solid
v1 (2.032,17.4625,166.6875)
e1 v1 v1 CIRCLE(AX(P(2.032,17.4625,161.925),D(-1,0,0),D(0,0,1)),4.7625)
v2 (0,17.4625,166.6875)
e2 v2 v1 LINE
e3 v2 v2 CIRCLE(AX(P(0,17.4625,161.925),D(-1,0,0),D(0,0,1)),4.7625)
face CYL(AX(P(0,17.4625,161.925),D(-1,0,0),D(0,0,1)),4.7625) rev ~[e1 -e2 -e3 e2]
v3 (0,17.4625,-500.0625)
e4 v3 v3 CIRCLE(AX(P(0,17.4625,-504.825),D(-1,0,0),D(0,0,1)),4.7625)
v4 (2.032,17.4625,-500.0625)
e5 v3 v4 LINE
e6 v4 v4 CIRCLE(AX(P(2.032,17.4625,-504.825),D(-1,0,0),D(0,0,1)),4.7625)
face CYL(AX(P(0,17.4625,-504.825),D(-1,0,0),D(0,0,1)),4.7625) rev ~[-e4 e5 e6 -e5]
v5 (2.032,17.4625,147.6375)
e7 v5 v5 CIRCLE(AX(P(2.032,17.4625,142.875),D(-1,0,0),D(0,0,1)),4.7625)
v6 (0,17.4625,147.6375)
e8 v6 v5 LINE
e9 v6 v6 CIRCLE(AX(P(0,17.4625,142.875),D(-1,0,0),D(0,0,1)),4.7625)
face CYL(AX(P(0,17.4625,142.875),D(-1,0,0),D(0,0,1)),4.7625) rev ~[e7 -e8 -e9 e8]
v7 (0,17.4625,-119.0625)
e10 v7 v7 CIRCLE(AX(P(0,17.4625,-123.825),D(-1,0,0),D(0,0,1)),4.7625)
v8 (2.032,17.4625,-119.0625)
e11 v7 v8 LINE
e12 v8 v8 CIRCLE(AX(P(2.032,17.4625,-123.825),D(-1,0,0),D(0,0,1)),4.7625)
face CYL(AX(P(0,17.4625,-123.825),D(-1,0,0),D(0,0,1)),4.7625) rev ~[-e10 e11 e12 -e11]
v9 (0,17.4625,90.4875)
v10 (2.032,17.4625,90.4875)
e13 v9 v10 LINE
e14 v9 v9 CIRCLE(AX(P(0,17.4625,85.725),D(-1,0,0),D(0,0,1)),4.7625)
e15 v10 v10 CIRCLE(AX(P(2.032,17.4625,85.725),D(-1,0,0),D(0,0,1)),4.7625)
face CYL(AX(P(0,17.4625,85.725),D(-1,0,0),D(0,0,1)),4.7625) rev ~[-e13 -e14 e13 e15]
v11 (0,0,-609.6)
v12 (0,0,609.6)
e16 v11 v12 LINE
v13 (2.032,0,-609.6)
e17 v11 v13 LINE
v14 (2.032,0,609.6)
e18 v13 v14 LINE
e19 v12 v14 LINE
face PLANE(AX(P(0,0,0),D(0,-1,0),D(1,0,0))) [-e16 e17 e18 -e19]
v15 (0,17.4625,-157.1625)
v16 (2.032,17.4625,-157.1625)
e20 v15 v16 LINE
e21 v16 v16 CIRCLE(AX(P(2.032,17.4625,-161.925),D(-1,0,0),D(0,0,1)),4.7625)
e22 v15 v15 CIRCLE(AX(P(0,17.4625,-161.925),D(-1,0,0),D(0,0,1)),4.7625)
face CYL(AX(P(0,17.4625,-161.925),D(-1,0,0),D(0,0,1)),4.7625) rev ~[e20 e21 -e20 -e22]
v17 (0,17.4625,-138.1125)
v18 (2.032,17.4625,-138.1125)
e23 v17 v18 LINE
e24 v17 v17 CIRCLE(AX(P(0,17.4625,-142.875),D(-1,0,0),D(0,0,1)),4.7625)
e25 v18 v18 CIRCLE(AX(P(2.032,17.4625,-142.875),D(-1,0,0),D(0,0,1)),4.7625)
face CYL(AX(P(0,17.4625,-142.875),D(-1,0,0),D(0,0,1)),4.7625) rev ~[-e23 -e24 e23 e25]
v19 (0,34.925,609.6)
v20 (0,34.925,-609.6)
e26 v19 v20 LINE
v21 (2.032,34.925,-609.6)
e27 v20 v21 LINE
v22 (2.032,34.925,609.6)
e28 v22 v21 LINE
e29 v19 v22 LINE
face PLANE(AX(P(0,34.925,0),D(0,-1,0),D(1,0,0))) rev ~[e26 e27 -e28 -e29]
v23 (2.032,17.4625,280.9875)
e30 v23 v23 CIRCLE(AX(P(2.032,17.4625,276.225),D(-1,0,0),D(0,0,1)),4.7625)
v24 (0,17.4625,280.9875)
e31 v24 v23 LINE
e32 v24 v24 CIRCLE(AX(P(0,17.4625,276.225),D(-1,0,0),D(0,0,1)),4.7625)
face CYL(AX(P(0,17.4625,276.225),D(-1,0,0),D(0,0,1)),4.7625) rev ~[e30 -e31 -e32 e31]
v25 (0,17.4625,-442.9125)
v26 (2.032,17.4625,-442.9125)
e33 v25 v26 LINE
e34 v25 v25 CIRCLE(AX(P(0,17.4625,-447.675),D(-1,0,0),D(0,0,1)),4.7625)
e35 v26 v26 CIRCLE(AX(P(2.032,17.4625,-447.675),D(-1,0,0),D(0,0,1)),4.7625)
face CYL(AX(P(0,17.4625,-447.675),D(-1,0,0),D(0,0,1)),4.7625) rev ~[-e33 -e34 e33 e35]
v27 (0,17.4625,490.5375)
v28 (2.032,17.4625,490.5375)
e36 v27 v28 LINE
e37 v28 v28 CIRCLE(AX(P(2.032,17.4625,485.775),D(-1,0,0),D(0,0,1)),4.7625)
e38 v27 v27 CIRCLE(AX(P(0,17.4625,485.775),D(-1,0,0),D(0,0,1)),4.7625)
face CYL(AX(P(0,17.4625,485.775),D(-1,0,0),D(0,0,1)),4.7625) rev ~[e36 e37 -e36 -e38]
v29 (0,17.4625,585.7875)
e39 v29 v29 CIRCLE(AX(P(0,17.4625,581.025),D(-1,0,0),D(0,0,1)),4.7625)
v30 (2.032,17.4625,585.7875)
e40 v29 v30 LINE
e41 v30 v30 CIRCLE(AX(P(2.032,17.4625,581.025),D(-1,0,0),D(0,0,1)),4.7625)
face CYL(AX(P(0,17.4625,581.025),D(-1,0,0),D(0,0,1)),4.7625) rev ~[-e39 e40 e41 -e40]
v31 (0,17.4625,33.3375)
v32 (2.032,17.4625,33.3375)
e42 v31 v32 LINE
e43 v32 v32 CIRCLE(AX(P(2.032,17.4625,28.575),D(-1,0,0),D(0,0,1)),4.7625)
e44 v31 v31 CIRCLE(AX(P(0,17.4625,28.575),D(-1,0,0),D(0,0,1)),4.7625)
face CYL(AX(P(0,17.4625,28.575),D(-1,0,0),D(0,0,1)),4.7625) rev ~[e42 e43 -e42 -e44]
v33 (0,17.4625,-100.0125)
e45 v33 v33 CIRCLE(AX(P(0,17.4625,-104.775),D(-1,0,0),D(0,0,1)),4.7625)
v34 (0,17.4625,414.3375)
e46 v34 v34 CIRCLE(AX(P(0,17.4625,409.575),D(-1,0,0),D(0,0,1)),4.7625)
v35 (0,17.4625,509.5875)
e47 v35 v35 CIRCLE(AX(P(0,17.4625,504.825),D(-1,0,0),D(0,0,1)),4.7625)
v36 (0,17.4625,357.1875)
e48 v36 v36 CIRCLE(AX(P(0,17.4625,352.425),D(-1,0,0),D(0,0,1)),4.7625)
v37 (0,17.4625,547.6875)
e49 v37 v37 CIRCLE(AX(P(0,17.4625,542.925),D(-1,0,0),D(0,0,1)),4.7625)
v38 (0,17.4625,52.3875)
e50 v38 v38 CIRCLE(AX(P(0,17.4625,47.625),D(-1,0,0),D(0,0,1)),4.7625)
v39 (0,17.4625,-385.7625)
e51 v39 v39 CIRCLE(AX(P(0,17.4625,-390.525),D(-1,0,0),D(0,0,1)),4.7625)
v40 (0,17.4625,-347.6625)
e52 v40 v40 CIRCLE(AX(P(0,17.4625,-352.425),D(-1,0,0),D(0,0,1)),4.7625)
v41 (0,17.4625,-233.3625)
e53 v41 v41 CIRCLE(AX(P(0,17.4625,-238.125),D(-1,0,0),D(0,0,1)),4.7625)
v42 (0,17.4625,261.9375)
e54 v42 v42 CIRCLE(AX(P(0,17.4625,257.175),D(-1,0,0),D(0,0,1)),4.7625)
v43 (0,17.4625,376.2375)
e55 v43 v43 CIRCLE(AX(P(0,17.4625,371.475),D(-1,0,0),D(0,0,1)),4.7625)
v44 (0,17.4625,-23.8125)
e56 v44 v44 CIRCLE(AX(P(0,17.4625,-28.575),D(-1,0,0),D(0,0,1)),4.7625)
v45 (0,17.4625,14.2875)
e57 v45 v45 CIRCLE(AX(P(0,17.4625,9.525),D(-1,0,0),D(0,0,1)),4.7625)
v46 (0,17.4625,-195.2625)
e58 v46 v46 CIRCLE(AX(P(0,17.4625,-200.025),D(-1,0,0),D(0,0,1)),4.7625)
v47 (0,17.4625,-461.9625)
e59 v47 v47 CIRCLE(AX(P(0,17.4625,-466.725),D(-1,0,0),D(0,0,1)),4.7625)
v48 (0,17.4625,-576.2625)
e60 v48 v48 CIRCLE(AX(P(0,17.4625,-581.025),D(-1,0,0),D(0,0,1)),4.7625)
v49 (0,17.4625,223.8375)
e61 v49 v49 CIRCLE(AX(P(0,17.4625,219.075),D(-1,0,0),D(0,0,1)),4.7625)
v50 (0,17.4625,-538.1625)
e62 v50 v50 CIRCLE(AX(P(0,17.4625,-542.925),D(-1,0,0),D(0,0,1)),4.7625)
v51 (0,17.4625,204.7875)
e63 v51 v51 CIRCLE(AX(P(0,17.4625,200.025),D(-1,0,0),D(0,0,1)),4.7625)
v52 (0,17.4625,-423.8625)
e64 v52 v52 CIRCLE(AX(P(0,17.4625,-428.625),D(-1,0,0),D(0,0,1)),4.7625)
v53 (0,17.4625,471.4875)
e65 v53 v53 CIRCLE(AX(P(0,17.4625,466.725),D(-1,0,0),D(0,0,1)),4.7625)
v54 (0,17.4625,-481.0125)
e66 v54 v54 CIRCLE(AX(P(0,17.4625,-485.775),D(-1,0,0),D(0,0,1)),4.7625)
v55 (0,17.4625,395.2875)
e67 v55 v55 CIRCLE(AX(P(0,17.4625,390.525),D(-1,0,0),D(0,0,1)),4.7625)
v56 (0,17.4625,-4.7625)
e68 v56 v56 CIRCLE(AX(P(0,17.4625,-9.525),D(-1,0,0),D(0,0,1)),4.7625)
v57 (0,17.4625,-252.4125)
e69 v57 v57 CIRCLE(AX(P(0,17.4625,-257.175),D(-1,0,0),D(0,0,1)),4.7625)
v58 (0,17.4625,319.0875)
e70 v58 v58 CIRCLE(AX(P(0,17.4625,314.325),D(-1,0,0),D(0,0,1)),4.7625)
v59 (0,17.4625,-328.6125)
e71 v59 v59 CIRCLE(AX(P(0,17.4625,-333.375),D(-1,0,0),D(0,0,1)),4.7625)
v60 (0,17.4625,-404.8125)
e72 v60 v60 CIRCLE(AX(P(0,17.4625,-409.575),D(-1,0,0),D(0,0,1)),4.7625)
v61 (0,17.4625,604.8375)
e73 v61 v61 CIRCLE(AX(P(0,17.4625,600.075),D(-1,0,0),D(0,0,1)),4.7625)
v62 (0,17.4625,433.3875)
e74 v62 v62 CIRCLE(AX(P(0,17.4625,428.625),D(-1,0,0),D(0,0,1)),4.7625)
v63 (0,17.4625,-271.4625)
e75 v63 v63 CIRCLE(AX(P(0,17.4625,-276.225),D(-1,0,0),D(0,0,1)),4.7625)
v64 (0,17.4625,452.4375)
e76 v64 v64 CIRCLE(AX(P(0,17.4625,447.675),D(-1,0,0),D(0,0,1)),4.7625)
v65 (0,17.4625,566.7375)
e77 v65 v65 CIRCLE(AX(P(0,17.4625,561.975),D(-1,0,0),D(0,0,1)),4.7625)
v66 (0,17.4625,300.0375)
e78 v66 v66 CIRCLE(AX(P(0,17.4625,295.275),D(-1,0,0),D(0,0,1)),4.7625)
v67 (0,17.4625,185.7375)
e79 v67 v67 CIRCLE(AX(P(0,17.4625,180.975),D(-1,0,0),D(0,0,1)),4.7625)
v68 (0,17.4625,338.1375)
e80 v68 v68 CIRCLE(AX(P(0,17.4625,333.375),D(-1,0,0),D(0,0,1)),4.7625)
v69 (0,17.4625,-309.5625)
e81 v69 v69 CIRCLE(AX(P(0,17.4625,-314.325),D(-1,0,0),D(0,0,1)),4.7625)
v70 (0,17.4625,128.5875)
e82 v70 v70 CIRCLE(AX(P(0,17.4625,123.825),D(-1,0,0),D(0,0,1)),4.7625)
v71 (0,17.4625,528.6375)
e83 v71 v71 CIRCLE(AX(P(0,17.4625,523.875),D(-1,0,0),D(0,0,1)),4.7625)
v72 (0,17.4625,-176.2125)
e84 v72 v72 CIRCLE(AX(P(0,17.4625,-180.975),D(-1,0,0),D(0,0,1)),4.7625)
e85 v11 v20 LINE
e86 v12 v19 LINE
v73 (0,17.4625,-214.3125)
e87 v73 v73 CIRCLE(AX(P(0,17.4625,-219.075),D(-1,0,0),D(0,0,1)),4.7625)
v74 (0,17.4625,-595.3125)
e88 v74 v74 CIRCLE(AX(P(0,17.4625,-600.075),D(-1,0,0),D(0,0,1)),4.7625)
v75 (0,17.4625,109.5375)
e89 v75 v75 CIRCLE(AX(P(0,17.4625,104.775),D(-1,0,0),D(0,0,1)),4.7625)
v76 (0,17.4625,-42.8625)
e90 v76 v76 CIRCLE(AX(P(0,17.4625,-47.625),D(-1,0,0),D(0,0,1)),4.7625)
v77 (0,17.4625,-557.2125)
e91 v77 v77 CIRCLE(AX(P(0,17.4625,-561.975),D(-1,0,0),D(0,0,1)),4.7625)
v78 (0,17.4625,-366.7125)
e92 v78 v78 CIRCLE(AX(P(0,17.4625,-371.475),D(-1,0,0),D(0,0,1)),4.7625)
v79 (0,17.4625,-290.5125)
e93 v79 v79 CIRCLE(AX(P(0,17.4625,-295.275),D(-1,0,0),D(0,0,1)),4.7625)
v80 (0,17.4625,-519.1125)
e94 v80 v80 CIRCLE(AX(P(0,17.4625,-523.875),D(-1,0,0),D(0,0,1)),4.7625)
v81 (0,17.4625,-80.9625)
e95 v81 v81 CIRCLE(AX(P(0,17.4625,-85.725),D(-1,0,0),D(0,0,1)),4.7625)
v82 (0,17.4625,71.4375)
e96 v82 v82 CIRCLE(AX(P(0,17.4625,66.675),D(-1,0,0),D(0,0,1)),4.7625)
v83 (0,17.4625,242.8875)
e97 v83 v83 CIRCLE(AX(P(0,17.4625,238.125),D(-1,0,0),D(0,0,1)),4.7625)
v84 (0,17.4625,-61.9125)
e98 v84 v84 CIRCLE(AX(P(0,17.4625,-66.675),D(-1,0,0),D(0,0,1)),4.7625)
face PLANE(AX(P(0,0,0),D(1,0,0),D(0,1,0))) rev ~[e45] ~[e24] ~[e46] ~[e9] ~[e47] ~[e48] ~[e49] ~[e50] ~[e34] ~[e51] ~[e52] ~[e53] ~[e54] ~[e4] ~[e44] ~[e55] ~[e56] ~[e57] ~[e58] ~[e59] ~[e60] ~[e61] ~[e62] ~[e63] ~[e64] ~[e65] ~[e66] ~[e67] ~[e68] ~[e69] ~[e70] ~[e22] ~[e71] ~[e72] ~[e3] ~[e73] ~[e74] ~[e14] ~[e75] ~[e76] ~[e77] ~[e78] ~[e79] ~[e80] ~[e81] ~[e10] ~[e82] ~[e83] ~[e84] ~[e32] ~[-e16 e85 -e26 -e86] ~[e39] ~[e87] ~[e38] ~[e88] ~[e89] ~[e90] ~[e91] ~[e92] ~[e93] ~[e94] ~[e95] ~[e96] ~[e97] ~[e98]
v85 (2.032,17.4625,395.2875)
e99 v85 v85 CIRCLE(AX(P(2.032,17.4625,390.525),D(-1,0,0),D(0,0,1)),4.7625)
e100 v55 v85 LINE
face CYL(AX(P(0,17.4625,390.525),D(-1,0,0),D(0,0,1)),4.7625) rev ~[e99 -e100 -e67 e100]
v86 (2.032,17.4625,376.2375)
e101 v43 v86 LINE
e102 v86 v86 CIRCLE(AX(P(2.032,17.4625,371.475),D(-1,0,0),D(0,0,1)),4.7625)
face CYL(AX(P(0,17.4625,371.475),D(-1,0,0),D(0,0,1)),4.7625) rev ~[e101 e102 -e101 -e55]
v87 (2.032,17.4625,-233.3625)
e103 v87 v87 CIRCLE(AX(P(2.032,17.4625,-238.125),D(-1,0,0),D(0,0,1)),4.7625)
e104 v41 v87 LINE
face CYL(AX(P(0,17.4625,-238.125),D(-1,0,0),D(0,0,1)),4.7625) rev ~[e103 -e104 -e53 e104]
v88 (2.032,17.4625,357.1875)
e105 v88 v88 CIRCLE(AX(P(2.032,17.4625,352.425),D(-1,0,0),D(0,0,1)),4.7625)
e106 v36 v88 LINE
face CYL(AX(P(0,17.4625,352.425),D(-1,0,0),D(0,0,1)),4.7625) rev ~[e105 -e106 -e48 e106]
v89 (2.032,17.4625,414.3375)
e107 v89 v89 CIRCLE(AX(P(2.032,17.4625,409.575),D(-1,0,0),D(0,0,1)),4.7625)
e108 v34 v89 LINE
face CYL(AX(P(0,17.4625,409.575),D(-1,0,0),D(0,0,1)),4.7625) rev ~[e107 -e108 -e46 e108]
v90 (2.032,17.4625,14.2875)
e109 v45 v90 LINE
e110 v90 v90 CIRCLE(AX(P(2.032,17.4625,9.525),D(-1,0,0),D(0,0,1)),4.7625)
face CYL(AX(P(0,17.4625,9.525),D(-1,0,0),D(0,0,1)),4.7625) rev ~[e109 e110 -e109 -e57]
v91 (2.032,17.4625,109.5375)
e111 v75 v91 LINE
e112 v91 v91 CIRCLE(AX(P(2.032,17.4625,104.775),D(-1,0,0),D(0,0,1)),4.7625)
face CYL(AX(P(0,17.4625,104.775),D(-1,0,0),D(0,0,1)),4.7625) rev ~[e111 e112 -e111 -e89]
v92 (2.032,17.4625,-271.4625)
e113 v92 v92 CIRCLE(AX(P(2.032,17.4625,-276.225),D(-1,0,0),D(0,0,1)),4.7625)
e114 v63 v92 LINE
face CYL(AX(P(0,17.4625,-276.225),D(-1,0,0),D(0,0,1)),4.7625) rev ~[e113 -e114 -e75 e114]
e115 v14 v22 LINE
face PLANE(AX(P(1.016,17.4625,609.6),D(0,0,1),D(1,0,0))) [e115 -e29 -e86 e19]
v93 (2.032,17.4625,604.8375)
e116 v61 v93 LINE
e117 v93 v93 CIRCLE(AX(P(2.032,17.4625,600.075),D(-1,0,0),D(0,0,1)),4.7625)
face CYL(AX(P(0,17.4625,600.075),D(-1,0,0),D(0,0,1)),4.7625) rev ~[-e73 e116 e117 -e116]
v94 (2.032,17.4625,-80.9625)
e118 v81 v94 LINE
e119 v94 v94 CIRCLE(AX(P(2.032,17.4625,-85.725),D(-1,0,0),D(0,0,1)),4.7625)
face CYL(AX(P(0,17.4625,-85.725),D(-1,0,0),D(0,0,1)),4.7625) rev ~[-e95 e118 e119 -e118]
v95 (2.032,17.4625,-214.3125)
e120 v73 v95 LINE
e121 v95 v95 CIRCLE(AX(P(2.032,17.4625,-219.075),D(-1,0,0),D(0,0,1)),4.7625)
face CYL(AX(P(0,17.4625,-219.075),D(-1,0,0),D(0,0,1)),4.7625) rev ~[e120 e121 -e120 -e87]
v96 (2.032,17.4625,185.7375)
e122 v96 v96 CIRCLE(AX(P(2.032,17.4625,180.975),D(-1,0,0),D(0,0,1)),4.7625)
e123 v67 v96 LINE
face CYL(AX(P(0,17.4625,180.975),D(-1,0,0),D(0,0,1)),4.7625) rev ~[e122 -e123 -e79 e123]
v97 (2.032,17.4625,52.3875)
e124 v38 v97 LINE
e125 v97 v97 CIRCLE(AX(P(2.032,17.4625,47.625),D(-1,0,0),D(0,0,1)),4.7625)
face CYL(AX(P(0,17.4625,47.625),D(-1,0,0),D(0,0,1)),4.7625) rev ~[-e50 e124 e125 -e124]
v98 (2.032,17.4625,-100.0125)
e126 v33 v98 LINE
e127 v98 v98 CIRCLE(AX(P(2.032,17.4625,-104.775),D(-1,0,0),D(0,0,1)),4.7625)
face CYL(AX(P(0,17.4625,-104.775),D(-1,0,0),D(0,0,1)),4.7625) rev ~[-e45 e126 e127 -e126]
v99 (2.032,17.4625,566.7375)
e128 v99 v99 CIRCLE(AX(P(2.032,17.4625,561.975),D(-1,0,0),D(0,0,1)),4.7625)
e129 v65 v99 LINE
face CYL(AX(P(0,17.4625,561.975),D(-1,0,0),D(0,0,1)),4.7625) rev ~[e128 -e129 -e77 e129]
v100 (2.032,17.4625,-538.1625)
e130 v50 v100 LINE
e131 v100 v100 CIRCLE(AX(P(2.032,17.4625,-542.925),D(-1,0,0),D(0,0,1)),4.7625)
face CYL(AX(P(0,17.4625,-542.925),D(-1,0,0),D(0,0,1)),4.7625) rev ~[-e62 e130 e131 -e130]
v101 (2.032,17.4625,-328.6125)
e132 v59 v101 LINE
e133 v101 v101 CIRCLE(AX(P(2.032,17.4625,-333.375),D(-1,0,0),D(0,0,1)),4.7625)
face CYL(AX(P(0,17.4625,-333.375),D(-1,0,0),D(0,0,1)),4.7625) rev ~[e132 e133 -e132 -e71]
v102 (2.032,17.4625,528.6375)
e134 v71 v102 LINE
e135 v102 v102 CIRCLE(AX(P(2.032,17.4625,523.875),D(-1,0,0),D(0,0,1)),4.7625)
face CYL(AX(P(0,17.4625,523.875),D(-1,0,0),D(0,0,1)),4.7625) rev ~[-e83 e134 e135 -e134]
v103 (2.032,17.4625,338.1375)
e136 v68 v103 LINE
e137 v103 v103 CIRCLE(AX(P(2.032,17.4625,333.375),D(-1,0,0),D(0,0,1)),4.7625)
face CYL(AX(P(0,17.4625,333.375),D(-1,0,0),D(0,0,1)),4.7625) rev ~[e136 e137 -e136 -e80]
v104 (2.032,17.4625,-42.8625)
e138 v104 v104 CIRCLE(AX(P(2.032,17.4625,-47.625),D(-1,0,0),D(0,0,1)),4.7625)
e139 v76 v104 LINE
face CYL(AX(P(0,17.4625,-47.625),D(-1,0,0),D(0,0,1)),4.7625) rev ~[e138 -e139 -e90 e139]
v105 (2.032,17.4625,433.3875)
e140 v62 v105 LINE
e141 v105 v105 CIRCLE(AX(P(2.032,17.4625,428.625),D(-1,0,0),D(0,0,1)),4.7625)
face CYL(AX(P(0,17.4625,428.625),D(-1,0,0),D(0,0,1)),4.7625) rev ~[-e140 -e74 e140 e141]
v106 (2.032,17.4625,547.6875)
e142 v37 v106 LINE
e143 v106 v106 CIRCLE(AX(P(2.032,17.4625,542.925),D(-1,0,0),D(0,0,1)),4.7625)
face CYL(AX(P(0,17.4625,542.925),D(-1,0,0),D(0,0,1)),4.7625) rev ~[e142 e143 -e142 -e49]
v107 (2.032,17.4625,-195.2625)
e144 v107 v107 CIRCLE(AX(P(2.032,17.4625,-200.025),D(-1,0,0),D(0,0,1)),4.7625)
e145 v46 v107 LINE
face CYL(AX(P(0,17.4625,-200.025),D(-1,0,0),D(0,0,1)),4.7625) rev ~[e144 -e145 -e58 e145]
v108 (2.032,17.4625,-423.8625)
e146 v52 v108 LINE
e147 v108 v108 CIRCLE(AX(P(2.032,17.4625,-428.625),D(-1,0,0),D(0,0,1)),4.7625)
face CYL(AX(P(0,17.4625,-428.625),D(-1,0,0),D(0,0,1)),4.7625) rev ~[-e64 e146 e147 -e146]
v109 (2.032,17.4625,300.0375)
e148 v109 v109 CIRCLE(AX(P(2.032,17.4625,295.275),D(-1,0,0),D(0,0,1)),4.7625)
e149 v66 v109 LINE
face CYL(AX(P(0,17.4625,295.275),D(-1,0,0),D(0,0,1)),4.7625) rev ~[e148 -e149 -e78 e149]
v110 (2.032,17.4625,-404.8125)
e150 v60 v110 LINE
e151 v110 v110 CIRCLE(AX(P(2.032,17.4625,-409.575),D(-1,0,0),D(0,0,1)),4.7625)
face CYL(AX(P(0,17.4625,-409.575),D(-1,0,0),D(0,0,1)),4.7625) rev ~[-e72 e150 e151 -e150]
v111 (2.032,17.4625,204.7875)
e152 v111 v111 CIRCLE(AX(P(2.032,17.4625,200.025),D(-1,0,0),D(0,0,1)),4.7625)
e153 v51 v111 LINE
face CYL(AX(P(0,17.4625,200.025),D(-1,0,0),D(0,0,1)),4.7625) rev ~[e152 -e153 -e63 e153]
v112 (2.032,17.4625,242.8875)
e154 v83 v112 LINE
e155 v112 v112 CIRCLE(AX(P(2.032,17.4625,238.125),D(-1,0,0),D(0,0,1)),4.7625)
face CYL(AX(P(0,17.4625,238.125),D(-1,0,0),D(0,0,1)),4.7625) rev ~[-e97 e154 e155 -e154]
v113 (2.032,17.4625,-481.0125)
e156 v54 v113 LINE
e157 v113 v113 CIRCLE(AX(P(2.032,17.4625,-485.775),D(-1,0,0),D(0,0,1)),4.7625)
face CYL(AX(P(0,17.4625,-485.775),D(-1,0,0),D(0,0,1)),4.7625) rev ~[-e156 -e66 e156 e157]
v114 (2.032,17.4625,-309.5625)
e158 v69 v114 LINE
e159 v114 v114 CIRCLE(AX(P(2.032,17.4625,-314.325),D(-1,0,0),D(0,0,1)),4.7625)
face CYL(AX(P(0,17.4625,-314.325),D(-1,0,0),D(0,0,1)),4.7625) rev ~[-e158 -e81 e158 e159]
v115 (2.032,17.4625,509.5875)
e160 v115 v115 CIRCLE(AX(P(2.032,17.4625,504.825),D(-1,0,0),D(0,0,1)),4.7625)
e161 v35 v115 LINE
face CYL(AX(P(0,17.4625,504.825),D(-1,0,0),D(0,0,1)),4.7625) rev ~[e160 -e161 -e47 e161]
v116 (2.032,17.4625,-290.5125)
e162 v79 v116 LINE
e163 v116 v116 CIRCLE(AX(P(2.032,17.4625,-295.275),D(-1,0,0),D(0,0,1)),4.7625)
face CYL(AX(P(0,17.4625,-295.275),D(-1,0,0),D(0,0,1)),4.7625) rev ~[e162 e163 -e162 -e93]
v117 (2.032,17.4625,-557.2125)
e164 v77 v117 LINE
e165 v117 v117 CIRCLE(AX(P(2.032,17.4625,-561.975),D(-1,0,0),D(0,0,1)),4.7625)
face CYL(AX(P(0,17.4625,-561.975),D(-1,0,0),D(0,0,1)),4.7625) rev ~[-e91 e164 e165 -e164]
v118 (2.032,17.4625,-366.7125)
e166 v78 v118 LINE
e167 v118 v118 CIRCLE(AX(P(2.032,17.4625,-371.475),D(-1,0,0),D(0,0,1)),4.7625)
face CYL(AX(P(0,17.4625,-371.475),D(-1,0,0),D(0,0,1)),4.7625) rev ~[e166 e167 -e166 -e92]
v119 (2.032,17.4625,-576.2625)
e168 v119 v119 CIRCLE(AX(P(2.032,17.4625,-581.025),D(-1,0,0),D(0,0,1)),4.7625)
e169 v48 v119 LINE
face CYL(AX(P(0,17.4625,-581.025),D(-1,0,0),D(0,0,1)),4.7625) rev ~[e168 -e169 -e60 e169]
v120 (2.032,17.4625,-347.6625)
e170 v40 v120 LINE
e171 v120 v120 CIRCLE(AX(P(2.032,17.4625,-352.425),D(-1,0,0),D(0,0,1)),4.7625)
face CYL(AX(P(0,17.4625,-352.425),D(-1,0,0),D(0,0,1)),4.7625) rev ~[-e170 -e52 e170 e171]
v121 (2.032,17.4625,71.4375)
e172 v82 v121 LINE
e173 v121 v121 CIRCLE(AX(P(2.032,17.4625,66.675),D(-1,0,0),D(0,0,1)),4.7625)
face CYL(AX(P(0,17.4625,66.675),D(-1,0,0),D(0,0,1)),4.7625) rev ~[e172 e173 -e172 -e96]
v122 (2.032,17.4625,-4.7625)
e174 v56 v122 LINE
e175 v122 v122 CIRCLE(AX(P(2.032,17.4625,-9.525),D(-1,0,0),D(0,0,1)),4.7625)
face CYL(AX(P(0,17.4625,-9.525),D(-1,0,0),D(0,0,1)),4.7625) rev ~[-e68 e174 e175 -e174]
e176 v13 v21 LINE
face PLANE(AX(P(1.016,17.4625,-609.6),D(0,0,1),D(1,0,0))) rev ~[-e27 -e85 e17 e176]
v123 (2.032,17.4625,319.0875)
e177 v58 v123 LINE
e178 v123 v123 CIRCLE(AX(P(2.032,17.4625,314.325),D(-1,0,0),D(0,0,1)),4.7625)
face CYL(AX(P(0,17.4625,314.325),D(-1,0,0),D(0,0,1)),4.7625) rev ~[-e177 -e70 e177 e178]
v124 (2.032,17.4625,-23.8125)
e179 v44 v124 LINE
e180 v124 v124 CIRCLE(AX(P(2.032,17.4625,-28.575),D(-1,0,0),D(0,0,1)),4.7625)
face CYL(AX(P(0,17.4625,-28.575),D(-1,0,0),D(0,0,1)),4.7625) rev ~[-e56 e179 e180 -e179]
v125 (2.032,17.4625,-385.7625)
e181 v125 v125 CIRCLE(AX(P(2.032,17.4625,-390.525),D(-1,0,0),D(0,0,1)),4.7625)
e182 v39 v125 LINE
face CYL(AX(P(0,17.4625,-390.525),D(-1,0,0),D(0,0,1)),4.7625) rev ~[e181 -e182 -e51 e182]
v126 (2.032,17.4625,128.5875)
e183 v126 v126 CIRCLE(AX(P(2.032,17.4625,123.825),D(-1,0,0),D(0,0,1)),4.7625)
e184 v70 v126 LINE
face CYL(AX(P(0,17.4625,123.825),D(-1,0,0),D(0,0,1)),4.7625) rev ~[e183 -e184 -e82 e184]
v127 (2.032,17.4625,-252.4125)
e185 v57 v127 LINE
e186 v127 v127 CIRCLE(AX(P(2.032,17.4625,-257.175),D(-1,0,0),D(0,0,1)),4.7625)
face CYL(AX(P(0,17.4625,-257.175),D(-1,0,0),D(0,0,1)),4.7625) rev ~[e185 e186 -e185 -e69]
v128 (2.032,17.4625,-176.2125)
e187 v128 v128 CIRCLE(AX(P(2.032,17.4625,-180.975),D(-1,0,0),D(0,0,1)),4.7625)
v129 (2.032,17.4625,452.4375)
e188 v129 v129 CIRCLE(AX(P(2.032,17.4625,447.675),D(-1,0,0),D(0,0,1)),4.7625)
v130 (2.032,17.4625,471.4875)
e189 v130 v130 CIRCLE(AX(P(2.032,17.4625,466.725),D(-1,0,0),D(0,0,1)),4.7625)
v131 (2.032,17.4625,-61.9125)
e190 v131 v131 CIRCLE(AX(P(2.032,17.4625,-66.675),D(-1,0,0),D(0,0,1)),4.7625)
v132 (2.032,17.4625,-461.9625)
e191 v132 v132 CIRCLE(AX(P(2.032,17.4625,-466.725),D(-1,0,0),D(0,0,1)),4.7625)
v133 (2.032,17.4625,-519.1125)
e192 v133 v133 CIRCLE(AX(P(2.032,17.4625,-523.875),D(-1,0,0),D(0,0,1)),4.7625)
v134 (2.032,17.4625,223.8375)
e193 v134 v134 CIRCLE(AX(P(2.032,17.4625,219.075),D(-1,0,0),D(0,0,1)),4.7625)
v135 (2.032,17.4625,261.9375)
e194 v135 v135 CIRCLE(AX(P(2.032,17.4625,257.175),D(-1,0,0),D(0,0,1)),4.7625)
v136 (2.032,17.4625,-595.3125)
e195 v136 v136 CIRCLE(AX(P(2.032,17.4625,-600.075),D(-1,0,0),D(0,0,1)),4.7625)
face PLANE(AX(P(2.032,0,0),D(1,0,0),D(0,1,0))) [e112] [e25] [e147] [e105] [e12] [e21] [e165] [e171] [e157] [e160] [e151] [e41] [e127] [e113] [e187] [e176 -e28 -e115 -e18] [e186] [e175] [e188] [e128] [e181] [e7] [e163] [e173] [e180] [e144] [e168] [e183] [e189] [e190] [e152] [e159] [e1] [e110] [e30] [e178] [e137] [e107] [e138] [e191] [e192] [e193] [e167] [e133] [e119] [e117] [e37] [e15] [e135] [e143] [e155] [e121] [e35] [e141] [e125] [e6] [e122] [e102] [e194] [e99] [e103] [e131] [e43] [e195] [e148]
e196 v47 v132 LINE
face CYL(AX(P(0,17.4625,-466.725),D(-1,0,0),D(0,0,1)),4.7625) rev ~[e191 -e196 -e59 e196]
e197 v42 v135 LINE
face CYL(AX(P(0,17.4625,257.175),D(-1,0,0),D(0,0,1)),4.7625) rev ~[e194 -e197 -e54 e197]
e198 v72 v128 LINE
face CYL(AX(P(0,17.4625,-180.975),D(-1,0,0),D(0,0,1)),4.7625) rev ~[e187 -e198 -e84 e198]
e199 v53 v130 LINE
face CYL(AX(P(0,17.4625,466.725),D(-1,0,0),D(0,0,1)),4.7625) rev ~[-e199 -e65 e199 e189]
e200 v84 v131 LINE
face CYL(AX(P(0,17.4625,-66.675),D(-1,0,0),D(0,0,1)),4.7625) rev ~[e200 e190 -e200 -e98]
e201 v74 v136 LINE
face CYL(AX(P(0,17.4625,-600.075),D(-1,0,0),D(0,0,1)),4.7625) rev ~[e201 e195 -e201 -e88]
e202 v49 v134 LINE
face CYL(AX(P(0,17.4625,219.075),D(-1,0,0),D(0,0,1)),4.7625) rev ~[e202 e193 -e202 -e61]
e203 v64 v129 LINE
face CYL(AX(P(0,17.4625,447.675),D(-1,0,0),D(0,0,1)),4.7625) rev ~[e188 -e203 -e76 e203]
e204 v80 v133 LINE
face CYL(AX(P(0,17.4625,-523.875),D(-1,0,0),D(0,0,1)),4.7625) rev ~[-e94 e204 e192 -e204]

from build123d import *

# Parameters (mm, degrees)
SKETCH1_W           = 2.032
SKETCH1_H           = 34.925
BOSS_EXTRUDE1_DEPTH = 609.6
CUT_EXTRUDE1_REACH  = 612.603
SKETCH2_R           = 4.7625
LPATTERN1_COUNT     = 64
LPATTERN1_PITCH     = 19.05


with BuildPart() as part:
    # Sketch1 → Boss-Extrude1 (new, symmetric)
    with BuildSketch(Plane.XY):
        with Locations((1.016, 17.4625)):
            Rectangle(SKETCH1_W, SKETCH1_H)
    extrude(amount=BOSS_EXTRUDE1_DEPTH, both=True)

    # Sketch2 → Cut-Extrude1 (cut, up to next)
    with BuildSketch(Plane.ZY, mode=Mode.PRIVATE) as cut_extrude1_sk1:
        with Locations((600.075, 17.4625)):
            Circle(SKETCH2_R)
    cut_extrude1_tool1 = extrude(cut_extrude1_sk1.sketch, amount=-CUT_EXTRUDE1_REACH, mode=Mode.PRIVATE) & part.part
    cut_extrude1 = cut_extrude1_tool1.solids().sort_by_distance((0, 17.4625, 600.075))[0]
    add(cut_extrude1, mode=Mode.SUBTRACT)

    # LPattern1: Cut-Extrude1 ×64
    with Locations(*[(0, 0, -i * LPATTERN1_PITCH) for i in range(1, LPATTERN1_COUNT)]):
        add(cut_extrude1, mode=Mode.SUBTRACT)


solid = part.part
